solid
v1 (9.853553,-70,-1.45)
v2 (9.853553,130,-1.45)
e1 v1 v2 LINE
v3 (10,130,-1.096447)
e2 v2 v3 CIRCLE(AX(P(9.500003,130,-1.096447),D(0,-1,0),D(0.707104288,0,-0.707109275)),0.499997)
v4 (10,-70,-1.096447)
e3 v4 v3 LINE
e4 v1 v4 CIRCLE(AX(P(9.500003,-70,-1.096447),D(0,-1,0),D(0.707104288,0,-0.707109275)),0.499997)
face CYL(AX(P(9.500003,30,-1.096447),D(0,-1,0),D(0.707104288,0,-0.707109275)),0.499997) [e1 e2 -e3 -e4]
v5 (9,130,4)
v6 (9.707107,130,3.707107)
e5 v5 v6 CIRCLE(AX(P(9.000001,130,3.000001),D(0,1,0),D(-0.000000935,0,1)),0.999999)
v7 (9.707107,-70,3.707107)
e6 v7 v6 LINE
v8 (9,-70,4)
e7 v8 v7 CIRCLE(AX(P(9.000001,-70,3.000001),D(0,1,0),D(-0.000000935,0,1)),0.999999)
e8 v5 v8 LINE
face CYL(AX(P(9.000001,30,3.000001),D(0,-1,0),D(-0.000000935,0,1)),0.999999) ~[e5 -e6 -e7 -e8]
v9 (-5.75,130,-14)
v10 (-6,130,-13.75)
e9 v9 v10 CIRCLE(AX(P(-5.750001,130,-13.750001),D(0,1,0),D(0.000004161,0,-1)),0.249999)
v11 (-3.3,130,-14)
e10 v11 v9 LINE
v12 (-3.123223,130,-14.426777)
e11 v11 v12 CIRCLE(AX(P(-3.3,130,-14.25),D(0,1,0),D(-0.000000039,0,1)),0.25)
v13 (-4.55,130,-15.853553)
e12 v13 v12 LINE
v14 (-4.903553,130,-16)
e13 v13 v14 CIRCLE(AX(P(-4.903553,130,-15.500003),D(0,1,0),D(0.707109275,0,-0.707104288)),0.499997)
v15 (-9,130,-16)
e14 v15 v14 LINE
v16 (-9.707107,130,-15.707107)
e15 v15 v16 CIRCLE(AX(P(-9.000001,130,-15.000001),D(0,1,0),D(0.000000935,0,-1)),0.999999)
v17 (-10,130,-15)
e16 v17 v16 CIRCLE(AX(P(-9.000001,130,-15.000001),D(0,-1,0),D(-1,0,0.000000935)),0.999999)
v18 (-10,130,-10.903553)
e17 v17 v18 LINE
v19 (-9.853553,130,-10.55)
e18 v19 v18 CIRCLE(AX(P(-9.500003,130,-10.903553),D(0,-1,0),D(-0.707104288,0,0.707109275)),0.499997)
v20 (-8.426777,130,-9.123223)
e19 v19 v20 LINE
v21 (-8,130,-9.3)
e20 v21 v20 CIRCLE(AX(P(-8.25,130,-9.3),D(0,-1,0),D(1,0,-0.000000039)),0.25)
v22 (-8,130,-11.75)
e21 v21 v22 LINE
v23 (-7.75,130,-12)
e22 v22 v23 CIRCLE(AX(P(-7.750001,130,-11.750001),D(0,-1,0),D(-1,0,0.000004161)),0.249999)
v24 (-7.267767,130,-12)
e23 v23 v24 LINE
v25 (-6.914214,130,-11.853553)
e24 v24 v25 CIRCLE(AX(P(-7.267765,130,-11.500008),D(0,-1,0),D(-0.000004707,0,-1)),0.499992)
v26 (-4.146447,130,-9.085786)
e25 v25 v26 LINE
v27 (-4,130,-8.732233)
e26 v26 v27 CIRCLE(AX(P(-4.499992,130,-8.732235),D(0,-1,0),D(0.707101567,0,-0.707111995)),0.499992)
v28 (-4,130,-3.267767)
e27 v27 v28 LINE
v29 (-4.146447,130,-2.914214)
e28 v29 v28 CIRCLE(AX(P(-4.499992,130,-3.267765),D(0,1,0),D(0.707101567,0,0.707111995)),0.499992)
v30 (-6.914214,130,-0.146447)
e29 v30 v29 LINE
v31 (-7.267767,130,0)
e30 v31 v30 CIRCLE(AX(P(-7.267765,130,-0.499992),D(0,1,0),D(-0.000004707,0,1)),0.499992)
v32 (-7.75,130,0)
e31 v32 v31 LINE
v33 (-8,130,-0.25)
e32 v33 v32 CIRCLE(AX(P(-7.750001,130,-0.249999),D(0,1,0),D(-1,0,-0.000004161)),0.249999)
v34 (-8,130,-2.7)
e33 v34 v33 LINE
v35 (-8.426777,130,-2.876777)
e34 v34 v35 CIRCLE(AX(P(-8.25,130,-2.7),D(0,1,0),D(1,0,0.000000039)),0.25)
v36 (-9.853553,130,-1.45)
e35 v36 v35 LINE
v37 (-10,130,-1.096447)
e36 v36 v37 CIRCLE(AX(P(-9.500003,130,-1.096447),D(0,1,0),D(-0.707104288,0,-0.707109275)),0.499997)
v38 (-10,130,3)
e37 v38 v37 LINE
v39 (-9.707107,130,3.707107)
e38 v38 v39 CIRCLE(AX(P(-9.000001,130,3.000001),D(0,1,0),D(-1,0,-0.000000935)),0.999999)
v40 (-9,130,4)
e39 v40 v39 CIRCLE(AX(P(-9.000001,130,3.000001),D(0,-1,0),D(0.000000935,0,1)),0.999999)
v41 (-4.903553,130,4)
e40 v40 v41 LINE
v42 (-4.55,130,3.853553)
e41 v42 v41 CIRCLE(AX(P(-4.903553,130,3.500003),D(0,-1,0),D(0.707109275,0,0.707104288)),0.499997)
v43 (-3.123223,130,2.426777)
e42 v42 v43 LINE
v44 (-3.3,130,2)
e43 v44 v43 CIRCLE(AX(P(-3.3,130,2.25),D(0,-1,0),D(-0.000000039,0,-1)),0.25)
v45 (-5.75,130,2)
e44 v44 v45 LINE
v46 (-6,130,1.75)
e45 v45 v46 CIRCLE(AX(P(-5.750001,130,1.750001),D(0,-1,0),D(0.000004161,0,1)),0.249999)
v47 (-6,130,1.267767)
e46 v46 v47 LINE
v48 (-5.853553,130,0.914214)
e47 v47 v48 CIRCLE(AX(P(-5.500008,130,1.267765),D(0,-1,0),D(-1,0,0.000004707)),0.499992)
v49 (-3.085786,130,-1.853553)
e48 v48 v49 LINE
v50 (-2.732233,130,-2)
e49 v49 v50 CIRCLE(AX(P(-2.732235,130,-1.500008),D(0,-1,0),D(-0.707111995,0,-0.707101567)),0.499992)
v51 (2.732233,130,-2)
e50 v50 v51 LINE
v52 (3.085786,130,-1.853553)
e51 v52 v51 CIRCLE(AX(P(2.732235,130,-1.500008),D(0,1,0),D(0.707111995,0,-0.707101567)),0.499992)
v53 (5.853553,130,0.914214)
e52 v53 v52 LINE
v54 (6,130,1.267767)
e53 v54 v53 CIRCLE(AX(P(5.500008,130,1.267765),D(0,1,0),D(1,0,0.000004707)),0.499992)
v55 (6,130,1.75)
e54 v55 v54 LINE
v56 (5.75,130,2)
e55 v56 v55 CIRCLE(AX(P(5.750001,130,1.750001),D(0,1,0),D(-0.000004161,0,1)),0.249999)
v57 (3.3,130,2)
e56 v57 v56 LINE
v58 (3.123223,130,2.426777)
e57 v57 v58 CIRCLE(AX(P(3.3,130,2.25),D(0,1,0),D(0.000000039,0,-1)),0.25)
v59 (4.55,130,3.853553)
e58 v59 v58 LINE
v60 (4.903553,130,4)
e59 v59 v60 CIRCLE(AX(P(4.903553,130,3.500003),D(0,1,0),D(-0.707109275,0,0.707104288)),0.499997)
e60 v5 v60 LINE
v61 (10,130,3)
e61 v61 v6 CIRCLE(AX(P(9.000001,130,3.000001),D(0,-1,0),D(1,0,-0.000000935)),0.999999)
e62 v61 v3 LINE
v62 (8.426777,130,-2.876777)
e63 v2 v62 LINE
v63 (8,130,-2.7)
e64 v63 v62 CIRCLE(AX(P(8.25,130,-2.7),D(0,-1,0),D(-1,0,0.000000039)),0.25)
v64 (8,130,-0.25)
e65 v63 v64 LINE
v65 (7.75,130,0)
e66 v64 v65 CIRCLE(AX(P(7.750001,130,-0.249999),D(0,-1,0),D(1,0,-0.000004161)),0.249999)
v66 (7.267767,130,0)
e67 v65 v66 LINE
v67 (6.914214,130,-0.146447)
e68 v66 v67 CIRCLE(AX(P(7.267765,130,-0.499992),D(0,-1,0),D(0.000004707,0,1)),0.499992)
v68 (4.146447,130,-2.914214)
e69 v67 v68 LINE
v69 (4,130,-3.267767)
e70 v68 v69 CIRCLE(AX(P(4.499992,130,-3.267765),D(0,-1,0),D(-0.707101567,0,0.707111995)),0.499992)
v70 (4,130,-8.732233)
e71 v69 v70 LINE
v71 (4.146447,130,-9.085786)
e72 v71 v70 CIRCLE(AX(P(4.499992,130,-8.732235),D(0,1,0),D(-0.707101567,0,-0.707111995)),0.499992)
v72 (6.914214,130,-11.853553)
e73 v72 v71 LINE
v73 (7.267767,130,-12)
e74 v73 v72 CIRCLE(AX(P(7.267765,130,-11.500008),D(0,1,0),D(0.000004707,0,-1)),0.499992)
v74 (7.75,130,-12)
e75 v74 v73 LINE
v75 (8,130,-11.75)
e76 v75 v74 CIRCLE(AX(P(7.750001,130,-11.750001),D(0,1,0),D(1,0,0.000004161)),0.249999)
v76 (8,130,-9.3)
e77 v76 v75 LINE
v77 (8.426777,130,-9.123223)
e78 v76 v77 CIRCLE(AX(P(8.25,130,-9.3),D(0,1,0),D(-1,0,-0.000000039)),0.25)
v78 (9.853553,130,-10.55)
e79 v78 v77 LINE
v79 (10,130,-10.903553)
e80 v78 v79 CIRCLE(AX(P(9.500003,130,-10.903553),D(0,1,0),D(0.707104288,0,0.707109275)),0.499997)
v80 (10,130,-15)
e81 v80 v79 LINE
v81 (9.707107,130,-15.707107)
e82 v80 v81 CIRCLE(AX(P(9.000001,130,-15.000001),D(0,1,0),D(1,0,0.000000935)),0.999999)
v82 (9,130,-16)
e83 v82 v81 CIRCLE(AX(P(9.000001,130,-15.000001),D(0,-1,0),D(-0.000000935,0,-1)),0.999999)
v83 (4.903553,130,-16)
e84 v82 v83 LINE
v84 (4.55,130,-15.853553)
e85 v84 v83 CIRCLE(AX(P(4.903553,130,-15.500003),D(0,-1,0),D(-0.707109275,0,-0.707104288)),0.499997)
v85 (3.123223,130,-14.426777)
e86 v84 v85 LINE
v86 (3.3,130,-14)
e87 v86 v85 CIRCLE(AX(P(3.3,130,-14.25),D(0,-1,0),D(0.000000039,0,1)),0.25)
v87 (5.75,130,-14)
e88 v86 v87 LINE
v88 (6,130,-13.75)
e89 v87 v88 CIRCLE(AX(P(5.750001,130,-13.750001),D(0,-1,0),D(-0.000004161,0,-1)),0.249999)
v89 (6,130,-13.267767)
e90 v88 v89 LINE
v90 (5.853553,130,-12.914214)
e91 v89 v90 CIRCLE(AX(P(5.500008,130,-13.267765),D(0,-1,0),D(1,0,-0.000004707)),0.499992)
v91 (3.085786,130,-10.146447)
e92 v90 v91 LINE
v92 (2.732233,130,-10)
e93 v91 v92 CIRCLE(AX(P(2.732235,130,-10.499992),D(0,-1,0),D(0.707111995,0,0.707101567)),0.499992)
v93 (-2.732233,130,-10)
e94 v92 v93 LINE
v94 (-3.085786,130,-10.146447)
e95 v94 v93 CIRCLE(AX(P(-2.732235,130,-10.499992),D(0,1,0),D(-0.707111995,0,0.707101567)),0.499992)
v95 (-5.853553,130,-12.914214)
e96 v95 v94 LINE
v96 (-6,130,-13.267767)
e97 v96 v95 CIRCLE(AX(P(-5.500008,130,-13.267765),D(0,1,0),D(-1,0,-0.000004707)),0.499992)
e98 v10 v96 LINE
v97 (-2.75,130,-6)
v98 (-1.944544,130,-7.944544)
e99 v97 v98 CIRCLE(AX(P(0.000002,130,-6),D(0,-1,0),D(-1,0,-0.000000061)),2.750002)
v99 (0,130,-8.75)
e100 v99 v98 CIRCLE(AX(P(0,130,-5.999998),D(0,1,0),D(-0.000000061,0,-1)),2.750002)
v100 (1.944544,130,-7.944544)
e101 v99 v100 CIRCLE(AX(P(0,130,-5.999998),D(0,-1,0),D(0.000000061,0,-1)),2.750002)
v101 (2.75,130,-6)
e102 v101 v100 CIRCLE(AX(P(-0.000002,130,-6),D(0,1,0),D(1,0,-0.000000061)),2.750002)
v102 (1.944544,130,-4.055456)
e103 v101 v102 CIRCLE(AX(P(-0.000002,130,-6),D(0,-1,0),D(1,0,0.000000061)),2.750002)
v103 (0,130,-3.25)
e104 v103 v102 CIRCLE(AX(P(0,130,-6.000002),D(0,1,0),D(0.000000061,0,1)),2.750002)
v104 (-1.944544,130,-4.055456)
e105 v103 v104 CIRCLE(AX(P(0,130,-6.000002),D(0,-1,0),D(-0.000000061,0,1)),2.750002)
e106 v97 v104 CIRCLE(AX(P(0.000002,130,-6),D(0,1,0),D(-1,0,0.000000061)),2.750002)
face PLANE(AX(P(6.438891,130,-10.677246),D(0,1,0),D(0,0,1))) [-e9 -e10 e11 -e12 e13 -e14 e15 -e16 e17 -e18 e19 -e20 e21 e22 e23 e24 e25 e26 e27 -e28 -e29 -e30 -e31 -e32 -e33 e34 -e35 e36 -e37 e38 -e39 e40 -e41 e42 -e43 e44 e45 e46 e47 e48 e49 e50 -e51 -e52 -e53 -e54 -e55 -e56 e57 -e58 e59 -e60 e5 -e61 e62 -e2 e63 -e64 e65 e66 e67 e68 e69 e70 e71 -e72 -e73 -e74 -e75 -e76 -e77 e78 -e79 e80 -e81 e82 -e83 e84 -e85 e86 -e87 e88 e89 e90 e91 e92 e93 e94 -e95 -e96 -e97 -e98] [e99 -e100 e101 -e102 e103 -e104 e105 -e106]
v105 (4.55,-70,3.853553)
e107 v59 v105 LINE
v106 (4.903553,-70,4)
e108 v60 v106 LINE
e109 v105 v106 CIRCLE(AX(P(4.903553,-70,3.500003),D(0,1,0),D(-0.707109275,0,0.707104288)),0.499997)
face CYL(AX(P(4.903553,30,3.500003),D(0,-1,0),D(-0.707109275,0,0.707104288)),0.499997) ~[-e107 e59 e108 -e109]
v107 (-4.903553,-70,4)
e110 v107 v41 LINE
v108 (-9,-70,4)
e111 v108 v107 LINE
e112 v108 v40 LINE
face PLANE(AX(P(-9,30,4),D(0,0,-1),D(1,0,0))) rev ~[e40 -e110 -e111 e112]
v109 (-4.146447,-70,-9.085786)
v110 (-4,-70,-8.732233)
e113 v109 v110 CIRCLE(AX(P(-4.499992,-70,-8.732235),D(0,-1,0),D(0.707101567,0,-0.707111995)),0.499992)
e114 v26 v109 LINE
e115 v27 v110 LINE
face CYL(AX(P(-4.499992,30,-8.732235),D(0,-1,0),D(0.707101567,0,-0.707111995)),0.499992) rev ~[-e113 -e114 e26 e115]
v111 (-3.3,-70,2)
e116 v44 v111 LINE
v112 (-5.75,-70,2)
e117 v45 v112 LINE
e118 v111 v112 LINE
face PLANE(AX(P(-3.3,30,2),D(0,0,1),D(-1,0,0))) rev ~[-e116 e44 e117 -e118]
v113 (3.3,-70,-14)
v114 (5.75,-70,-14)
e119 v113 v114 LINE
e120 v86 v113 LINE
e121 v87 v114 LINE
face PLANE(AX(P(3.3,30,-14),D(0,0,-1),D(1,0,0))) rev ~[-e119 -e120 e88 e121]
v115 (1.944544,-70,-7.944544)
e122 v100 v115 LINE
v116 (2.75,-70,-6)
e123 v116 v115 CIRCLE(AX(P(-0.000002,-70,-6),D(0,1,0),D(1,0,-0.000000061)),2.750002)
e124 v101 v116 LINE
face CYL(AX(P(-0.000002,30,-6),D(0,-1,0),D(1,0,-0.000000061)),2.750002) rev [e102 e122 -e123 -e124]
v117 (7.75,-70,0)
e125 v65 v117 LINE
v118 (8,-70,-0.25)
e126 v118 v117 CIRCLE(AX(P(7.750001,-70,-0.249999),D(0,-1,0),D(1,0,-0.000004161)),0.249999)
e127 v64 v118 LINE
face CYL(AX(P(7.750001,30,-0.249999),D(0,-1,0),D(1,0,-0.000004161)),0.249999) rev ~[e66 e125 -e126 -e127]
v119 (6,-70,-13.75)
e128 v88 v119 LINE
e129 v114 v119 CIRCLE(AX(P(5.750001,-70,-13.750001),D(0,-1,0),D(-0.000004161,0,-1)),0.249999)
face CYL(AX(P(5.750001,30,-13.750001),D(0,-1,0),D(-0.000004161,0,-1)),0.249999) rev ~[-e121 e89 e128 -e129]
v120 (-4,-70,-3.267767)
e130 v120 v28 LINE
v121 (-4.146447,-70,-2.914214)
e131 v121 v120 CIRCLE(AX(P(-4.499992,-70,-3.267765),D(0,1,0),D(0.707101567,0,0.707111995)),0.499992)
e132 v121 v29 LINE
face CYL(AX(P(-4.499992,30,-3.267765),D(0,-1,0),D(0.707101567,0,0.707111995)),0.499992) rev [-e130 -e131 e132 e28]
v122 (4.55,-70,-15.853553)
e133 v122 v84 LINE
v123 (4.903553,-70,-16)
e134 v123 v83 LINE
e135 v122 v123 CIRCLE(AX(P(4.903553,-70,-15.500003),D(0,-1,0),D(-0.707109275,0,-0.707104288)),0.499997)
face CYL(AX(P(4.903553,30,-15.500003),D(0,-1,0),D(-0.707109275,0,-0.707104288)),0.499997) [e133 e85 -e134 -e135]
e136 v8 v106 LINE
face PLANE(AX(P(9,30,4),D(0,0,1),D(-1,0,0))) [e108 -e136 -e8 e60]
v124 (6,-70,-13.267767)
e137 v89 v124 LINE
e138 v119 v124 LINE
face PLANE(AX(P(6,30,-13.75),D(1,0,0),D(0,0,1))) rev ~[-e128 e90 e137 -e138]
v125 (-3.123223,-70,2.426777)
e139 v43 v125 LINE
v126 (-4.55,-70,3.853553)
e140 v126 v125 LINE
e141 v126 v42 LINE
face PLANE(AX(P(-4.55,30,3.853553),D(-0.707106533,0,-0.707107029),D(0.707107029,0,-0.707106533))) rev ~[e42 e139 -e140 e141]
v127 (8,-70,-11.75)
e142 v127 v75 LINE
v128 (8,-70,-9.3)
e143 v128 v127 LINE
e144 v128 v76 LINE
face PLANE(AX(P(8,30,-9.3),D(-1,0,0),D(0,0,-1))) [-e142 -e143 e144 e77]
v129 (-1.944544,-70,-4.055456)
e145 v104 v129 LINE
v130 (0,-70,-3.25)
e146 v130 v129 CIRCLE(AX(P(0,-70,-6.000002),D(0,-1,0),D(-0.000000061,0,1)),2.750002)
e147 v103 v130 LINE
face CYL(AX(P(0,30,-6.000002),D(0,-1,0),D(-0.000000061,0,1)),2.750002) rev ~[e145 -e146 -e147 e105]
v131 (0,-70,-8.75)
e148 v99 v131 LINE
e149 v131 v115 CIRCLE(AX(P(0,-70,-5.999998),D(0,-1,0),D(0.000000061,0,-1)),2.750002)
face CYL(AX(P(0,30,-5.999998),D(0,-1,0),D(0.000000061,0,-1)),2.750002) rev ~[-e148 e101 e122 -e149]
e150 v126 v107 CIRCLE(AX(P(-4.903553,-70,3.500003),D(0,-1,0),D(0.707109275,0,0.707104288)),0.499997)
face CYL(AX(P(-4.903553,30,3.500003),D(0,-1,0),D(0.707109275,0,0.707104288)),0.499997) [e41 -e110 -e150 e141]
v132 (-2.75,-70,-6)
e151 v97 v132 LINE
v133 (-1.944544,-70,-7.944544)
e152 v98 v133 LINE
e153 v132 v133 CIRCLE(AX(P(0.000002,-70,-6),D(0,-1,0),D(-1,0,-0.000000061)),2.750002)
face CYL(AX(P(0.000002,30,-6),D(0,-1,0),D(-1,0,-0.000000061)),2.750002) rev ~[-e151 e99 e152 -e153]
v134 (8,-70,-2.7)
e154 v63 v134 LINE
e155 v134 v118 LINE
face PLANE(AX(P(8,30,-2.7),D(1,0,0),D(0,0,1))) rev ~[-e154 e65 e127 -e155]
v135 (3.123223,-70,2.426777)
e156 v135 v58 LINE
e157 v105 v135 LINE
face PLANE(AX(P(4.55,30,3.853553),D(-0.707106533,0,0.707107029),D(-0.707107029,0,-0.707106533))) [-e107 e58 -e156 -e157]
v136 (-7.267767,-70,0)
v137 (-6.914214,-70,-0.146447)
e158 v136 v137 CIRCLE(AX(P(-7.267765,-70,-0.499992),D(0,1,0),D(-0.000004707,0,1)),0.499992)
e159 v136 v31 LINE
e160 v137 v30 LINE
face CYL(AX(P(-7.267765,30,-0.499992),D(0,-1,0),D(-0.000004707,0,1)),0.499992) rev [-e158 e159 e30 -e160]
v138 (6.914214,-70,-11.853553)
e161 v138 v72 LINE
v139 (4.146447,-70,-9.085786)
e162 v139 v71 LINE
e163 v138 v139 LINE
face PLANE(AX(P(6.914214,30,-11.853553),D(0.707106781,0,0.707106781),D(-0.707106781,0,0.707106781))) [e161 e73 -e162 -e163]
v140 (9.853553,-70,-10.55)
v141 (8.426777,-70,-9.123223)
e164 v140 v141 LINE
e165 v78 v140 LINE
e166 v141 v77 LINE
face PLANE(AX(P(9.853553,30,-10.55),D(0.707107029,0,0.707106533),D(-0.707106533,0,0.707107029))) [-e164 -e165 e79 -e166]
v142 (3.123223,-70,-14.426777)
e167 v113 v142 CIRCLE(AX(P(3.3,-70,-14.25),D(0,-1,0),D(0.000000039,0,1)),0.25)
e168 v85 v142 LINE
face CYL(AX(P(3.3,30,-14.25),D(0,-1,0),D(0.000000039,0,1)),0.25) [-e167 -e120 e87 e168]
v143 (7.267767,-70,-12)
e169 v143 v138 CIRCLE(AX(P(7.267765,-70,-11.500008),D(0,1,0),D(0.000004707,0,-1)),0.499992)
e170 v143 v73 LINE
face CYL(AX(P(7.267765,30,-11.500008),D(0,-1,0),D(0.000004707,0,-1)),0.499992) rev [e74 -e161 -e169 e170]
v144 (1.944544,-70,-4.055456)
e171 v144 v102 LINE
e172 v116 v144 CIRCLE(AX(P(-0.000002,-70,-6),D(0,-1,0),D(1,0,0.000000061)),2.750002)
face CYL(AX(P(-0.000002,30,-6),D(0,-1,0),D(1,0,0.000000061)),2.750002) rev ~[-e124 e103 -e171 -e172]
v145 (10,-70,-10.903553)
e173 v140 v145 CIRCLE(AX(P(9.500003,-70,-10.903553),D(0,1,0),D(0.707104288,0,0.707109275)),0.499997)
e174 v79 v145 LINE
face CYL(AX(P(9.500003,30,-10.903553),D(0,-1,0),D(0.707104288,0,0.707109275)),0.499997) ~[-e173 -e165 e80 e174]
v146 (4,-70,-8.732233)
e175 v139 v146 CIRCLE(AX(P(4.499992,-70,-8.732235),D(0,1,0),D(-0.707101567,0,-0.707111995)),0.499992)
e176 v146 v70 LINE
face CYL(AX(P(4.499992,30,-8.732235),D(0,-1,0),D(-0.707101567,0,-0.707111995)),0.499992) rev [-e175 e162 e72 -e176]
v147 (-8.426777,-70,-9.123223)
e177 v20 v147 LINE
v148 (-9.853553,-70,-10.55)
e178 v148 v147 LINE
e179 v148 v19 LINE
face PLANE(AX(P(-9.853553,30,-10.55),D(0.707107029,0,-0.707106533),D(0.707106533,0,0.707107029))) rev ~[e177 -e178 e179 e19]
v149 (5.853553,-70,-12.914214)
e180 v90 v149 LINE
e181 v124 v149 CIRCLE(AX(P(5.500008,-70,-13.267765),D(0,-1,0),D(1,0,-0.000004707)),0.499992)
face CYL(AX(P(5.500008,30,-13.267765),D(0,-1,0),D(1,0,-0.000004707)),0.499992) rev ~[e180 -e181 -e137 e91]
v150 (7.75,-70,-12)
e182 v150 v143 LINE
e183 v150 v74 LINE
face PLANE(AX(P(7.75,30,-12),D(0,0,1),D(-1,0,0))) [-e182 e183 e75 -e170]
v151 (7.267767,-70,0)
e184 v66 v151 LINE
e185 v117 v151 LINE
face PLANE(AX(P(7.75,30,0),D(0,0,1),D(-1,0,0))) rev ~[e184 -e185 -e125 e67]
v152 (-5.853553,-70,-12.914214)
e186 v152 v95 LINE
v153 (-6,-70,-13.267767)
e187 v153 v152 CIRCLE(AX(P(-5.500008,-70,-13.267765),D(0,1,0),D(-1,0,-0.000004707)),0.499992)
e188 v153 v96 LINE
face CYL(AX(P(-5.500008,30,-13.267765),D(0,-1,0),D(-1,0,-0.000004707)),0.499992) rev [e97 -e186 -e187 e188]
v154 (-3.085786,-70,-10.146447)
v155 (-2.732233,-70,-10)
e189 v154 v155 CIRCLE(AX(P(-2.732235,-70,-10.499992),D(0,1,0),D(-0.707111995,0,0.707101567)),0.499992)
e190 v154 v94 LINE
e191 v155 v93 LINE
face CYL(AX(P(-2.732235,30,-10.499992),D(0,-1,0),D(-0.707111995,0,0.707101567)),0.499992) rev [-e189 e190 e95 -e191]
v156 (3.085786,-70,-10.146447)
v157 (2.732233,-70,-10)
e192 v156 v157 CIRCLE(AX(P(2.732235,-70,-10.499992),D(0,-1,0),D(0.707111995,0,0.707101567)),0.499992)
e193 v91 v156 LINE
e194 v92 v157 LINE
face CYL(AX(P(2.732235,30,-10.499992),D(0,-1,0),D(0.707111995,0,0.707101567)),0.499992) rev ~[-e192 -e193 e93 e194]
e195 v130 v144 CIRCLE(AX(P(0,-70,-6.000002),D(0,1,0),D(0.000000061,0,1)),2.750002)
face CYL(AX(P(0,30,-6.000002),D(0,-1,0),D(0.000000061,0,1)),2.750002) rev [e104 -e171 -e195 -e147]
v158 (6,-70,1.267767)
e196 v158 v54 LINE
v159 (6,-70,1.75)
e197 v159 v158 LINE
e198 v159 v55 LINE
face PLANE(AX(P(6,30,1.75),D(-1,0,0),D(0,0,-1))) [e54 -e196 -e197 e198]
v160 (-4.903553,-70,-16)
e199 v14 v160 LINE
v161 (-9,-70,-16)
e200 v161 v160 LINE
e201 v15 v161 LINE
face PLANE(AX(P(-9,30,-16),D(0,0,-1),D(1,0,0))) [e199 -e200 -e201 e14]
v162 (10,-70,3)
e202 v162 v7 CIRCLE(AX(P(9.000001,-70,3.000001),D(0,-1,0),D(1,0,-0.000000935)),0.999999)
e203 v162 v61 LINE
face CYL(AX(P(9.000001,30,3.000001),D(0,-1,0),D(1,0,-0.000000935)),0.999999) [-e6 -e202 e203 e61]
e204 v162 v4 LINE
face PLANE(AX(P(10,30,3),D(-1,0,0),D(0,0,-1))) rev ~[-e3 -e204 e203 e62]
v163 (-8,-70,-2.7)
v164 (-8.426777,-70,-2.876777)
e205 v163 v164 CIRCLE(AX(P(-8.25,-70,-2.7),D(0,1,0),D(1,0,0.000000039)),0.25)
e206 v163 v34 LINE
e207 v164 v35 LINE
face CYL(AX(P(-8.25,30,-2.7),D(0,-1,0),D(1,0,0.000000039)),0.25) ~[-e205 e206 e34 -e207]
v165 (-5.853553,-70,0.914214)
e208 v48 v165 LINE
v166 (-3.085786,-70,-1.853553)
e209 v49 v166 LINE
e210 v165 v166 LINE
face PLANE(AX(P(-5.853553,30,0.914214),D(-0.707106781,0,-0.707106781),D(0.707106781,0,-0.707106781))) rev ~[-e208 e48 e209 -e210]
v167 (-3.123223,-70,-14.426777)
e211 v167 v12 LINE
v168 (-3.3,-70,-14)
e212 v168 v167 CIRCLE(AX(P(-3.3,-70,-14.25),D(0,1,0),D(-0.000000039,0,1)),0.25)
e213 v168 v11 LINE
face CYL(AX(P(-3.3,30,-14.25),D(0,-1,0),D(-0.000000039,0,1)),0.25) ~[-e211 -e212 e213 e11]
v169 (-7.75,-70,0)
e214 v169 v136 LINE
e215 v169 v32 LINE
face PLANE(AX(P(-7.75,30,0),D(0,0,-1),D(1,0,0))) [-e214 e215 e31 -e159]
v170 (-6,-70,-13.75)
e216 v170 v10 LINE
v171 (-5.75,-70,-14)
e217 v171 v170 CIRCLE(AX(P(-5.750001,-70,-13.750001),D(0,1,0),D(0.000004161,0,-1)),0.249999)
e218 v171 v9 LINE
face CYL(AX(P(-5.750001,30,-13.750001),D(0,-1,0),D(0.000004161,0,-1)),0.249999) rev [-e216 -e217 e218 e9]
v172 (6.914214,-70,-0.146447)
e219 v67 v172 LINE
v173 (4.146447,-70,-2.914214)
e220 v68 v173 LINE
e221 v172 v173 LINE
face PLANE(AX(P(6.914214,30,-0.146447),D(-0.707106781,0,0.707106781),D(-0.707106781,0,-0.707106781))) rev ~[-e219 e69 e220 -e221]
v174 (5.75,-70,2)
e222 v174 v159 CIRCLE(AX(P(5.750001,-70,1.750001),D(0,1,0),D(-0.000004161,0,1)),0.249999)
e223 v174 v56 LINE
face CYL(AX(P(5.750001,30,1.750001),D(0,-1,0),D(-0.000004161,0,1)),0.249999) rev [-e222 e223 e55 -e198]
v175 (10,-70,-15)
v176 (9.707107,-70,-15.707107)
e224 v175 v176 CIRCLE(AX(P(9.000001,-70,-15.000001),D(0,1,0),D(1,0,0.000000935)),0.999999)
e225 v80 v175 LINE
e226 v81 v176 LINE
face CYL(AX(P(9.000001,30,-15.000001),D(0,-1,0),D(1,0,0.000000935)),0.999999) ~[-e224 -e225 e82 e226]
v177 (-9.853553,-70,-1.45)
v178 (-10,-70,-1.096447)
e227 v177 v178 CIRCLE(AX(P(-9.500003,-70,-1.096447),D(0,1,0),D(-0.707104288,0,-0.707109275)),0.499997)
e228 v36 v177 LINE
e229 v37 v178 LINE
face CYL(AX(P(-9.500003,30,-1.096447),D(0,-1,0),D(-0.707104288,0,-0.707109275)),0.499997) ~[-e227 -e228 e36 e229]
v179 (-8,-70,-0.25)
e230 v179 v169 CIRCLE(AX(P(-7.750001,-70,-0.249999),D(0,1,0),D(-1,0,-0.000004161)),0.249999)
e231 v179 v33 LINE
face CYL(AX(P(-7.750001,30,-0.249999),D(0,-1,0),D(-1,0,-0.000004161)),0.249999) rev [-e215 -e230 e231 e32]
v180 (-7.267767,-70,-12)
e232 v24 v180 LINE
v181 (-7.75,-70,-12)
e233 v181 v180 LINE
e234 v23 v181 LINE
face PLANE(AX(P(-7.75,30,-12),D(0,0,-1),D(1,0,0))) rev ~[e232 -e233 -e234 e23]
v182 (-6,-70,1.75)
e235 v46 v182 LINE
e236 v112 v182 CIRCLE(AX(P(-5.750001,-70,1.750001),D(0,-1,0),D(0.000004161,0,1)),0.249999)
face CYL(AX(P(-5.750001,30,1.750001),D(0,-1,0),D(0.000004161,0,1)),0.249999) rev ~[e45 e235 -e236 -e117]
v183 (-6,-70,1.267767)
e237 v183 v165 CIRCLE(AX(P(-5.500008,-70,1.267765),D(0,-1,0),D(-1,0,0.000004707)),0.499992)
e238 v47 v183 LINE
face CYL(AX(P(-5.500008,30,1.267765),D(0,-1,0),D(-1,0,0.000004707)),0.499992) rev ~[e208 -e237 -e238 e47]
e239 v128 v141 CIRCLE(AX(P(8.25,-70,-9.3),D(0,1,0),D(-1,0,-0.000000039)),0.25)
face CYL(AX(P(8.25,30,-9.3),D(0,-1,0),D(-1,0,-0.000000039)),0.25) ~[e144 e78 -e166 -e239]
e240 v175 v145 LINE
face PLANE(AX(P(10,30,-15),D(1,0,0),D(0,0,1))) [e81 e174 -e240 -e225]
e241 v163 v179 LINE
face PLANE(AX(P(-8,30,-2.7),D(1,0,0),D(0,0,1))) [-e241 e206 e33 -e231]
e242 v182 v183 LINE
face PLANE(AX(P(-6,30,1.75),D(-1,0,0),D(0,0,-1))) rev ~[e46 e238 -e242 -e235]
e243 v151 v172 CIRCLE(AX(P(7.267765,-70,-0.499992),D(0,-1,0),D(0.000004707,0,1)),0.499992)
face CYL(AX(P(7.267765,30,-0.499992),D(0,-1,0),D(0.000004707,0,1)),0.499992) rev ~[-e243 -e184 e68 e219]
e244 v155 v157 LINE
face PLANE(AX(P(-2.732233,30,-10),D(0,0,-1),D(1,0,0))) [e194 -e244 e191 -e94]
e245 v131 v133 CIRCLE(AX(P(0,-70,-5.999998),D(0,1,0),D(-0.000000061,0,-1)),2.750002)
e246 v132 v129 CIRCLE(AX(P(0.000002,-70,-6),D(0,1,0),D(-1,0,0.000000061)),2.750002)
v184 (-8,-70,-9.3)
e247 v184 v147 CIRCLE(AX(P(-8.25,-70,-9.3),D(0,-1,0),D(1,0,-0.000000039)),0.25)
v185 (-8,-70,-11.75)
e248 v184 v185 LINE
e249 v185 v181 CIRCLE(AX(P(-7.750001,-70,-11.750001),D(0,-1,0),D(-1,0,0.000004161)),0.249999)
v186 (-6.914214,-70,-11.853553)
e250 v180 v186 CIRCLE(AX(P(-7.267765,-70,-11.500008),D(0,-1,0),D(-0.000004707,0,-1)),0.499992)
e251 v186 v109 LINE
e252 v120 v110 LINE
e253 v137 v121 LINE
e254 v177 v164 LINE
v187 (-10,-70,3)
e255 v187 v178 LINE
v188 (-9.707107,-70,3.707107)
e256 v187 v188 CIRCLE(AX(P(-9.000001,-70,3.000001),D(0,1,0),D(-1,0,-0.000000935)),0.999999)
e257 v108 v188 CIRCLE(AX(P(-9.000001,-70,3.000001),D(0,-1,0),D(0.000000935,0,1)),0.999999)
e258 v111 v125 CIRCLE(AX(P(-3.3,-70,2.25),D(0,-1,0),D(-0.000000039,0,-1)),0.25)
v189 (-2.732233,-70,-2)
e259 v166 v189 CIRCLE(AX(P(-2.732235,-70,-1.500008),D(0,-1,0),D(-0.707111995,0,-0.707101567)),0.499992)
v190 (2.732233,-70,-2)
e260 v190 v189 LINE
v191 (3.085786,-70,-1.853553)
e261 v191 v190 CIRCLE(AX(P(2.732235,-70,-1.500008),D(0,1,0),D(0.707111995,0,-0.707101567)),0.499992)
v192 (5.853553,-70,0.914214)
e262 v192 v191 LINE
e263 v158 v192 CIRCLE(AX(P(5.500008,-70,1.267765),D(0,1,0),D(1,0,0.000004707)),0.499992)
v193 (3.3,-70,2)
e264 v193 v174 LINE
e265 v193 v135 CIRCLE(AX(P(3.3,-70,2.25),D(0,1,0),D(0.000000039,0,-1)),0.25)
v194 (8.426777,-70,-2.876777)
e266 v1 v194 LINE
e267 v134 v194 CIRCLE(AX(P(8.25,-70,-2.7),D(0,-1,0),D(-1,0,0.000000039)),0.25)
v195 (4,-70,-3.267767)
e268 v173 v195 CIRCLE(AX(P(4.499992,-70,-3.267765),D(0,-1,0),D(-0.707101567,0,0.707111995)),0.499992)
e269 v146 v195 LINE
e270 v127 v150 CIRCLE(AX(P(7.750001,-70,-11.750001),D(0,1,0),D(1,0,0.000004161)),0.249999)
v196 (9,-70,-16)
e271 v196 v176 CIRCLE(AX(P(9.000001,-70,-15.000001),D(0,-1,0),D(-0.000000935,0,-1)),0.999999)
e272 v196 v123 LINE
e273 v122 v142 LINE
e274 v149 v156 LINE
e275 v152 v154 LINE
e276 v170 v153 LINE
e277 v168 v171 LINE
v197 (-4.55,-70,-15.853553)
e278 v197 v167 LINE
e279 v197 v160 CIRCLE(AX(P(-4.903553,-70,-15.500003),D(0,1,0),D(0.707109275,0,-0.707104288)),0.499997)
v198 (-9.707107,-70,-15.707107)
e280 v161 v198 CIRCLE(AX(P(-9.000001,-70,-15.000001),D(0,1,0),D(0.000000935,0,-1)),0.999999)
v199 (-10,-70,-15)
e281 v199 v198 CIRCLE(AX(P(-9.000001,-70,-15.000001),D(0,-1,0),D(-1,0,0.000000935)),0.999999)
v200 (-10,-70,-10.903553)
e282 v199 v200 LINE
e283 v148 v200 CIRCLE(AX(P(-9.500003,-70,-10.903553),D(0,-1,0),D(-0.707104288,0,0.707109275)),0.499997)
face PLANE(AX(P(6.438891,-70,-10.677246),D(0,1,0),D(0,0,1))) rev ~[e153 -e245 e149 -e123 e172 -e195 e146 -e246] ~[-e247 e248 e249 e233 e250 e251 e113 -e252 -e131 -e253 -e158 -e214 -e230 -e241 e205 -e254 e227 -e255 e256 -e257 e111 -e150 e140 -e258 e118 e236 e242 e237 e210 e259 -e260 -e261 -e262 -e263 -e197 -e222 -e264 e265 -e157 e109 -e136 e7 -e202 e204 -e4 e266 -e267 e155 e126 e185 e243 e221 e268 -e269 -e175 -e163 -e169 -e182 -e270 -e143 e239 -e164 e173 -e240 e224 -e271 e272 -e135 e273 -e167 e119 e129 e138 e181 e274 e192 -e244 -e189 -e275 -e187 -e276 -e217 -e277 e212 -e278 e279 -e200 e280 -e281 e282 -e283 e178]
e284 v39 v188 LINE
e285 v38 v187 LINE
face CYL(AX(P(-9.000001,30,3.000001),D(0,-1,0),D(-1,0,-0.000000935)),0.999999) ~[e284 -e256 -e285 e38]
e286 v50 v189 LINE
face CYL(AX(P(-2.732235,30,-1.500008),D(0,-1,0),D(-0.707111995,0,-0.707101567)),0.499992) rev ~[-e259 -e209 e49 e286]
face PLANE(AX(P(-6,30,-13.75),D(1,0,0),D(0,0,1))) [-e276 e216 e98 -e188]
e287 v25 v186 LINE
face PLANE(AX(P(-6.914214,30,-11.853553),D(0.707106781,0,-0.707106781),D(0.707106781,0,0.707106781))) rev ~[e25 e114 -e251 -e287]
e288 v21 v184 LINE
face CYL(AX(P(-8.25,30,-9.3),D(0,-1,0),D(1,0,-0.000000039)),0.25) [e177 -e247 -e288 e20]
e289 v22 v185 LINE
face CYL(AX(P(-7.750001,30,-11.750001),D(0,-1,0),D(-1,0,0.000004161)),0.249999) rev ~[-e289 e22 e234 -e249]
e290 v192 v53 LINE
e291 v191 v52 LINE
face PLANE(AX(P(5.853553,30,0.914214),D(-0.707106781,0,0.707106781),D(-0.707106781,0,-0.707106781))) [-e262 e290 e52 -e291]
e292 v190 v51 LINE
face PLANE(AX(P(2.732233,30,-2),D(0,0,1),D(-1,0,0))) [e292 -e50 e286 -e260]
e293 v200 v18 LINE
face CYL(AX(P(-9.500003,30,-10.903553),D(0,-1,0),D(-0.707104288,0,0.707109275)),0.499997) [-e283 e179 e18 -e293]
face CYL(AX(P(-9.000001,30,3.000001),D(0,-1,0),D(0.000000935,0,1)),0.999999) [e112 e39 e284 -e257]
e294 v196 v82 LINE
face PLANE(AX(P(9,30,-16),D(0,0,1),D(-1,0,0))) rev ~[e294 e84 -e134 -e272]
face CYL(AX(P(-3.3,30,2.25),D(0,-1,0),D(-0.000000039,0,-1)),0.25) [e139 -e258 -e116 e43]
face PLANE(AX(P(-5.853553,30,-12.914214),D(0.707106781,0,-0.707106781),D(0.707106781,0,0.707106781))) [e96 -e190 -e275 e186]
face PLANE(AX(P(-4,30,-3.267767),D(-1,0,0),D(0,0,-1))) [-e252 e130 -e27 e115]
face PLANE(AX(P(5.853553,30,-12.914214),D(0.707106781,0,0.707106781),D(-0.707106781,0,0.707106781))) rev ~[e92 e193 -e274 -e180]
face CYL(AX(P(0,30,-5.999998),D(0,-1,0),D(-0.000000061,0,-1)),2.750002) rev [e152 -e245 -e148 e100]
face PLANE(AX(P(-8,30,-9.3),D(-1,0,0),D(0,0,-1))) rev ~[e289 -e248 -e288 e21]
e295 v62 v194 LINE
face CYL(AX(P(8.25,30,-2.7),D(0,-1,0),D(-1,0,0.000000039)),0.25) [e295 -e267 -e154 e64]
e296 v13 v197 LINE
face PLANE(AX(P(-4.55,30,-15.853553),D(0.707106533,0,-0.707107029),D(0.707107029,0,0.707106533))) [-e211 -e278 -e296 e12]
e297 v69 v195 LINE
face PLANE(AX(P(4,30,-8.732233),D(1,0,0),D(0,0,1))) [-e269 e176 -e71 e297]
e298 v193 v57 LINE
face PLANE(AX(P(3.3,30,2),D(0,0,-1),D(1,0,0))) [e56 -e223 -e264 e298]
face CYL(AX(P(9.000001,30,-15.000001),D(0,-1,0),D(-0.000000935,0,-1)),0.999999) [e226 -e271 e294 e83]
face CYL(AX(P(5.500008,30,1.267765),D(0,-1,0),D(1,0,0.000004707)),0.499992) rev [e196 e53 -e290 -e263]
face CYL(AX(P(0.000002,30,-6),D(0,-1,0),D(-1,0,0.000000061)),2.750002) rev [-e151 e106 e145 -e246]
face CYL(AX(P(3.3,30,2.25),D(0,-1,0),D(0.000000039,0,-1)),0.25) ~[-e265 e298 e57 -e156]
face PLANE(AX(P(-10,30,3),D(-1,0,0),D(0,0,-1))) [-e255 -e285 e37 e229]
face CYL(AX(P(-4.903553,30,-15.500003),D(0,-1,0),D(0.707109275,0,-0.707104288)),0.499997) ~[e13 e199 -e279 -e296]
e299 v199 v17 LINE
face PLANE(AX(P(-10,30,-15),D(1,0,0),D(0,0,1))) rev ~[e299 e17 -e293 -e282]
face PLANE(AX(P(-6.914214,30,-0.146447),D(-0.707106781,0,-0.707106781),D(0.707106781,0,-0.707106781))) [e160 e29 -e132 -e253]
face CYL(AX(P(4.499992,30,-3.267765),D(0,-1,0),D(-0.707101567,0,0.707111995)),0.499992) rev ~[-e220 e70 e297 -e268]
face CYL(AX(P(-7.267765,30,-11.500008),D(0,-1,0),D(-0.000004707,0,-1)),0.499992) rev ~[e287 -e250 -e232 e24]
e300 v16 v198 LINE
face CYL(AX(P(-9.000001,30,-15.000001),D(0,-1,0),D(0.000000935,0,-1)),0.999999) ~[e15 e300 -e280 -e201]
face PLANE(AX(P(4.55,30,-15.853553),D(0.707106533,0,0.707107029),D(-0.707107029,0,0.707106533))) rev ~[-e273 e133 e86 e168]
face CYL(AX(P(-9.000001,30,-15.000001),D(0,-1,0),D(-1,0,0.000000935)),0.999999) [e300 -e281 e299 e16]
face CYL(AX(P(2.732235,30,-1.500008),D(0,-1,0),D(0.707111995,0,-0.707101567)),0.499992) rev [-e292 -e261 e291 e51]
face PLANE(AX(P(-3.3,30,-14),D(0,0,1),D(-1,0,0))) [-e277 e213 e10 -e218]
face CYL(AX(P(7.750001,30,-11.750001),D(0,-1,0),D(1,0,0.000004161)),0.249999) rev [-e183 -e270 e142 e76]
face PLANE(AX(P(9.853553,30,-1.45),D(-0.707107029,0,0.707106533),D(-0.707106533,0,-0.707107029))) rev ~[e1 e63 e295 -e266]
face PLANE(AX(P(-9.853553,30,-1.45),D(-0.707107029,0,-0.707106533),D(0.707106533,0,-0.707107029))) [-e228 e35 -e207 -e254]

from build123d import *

# Parameters (mm, degrees)
PAD061_DEPTH               = 100
PAD061_MIRRORED008_2_DEPTH = 100
POLARPATTERN002_COUNT      = 4
BODY126_PLACEMENT_ANGLE    = 90


with BuildPart() as part:
    # Sketch256 → Pad061 (new body, symmetric)
    with BuildSketch(Plane.XY):
        with BuildLine():
            ThreePointArc((-9, 10), (-9.382683, 9.92388), (-9.707107, 9.707107))
            Line((-9.707107, 9.707107), (-1.944544, 1.944544))
            ThreePointArc((0, 2.75), (-1.052379, 2.540669), (-1.944544, 1.944544))
            Line((0, 2.75), (0, 4))
            Line((-2.732233, 4), (0, 4))
            ThreePointArc((-3.085786, 4.146447), (-2.923575, 4.03806), (-2.732233, 4))
            Line((-5.853553, 6.914214), (-3.085786, 4.146447))
            ThreePointArc((-6, 7.267767), (-5.96194, 7.076425), (-5.853553, 6.914214))
            Line((-6, 7.75), (-6, 7.267767))
            ThreePointArc((-5.75, 8), (-5.926777, 7.926777), (-6, 7.75))
            Line((-3.3, 8), (-5.75, 8))
            ThreePointArc((-3.3, 8), (-3.06903, 8.154329), (-3.123223, 8.426777))
            Line((-4.55, 9.853553), (-3.123223, 8.426777))
            ThreePointArc((-4.55, 9.853553), (-4.712212, 9.96194), (-4.903553, 10))
            Line((-9, 10), (-4.903553, 10))
        make_face()
    pad061 = extrude(amount=PAD061_DEPTH, both=True)

    # Sketch256 Mirrored008 2 → Pad061 Mirrored008 2 (add, symmetric)
    with BuildSketch(Plane(origin=(0, 0, 0), x_dir=(-1, 0, 0), z_dir=(0, 0, -1))):
        with BuildLine():
            ThreePointArc((-9, 10), (-9.382683, 9.92388), (-9.707107, 9.707107))
            Line((-9.707107, 9.707107), (-1.944544, 1.944544))
            ThreePointArc((0, 2.75), (-1.052379, 2.540669), (-1.944544, 1.944544))
            Line((0, 2.75), (0, 4))
            Line((-2.732233, 4), (0, 4))
            ThreePointArc((-3.085786, 4.146447), (-2.923575, 4.03806), (-2.732233, 4))
            Line((-5.853553, 6.914214), (-3.085786, 4.146447))
            ThreePointArc((-6, 7.267767), (-5.96194, 7.076425), (-5.853553, 6.914214))
            Line((-6, 7.75), (-6, 7.267767))
            ThreePointArc((-5.75, 8), (-5.926777, 7.926777), (-6, 7.75))
            Line((-3.3, 8), (-5.75, 8))
            ThreePointArc((-3.3, 8), (-3.06903, 8.154329), (-3.123223, 8.426777))
            Line((-4.55, 9.853553), (-3.123223, 8.426777))
            ThreePointArc((-4.55, 9.853553), (-4.712212, 9.96194), (-4.903553, 10))
            Line((-9, 10), (-4.903553, 10))
        make_face()
    pad061_mirrored008_2 = extrude(amount=-PAD061_MIRRORED008_2_DEPTH, both=True)

    # PolarPattern002: Pad061, Pad061 Mirrored008 2 ×4 about axis
    polarpattern002_axis = Axis((0, 0, 0), (0, 0, 1))
    for i in range(1, POLARPATTERN002_COUNT):
        add(pad061.rotate(polarpattern002_axis, i * 360 / POLARPATTERN002_COUNT))
        add(pad061_mirrored008_2.rotate(polarpattern002_axis, i * 360 / POLARPATTERN002_COUNT))


with BuildPart() as part_1:
    # Body126 placement: moved
    add(part.part.moved(Location((0, 30, -6))).rotate(Axis((0, 30, -6), (1, 0, 0)), BODY126_PLACEMENT_ANGLE))


solid = part_1.part
